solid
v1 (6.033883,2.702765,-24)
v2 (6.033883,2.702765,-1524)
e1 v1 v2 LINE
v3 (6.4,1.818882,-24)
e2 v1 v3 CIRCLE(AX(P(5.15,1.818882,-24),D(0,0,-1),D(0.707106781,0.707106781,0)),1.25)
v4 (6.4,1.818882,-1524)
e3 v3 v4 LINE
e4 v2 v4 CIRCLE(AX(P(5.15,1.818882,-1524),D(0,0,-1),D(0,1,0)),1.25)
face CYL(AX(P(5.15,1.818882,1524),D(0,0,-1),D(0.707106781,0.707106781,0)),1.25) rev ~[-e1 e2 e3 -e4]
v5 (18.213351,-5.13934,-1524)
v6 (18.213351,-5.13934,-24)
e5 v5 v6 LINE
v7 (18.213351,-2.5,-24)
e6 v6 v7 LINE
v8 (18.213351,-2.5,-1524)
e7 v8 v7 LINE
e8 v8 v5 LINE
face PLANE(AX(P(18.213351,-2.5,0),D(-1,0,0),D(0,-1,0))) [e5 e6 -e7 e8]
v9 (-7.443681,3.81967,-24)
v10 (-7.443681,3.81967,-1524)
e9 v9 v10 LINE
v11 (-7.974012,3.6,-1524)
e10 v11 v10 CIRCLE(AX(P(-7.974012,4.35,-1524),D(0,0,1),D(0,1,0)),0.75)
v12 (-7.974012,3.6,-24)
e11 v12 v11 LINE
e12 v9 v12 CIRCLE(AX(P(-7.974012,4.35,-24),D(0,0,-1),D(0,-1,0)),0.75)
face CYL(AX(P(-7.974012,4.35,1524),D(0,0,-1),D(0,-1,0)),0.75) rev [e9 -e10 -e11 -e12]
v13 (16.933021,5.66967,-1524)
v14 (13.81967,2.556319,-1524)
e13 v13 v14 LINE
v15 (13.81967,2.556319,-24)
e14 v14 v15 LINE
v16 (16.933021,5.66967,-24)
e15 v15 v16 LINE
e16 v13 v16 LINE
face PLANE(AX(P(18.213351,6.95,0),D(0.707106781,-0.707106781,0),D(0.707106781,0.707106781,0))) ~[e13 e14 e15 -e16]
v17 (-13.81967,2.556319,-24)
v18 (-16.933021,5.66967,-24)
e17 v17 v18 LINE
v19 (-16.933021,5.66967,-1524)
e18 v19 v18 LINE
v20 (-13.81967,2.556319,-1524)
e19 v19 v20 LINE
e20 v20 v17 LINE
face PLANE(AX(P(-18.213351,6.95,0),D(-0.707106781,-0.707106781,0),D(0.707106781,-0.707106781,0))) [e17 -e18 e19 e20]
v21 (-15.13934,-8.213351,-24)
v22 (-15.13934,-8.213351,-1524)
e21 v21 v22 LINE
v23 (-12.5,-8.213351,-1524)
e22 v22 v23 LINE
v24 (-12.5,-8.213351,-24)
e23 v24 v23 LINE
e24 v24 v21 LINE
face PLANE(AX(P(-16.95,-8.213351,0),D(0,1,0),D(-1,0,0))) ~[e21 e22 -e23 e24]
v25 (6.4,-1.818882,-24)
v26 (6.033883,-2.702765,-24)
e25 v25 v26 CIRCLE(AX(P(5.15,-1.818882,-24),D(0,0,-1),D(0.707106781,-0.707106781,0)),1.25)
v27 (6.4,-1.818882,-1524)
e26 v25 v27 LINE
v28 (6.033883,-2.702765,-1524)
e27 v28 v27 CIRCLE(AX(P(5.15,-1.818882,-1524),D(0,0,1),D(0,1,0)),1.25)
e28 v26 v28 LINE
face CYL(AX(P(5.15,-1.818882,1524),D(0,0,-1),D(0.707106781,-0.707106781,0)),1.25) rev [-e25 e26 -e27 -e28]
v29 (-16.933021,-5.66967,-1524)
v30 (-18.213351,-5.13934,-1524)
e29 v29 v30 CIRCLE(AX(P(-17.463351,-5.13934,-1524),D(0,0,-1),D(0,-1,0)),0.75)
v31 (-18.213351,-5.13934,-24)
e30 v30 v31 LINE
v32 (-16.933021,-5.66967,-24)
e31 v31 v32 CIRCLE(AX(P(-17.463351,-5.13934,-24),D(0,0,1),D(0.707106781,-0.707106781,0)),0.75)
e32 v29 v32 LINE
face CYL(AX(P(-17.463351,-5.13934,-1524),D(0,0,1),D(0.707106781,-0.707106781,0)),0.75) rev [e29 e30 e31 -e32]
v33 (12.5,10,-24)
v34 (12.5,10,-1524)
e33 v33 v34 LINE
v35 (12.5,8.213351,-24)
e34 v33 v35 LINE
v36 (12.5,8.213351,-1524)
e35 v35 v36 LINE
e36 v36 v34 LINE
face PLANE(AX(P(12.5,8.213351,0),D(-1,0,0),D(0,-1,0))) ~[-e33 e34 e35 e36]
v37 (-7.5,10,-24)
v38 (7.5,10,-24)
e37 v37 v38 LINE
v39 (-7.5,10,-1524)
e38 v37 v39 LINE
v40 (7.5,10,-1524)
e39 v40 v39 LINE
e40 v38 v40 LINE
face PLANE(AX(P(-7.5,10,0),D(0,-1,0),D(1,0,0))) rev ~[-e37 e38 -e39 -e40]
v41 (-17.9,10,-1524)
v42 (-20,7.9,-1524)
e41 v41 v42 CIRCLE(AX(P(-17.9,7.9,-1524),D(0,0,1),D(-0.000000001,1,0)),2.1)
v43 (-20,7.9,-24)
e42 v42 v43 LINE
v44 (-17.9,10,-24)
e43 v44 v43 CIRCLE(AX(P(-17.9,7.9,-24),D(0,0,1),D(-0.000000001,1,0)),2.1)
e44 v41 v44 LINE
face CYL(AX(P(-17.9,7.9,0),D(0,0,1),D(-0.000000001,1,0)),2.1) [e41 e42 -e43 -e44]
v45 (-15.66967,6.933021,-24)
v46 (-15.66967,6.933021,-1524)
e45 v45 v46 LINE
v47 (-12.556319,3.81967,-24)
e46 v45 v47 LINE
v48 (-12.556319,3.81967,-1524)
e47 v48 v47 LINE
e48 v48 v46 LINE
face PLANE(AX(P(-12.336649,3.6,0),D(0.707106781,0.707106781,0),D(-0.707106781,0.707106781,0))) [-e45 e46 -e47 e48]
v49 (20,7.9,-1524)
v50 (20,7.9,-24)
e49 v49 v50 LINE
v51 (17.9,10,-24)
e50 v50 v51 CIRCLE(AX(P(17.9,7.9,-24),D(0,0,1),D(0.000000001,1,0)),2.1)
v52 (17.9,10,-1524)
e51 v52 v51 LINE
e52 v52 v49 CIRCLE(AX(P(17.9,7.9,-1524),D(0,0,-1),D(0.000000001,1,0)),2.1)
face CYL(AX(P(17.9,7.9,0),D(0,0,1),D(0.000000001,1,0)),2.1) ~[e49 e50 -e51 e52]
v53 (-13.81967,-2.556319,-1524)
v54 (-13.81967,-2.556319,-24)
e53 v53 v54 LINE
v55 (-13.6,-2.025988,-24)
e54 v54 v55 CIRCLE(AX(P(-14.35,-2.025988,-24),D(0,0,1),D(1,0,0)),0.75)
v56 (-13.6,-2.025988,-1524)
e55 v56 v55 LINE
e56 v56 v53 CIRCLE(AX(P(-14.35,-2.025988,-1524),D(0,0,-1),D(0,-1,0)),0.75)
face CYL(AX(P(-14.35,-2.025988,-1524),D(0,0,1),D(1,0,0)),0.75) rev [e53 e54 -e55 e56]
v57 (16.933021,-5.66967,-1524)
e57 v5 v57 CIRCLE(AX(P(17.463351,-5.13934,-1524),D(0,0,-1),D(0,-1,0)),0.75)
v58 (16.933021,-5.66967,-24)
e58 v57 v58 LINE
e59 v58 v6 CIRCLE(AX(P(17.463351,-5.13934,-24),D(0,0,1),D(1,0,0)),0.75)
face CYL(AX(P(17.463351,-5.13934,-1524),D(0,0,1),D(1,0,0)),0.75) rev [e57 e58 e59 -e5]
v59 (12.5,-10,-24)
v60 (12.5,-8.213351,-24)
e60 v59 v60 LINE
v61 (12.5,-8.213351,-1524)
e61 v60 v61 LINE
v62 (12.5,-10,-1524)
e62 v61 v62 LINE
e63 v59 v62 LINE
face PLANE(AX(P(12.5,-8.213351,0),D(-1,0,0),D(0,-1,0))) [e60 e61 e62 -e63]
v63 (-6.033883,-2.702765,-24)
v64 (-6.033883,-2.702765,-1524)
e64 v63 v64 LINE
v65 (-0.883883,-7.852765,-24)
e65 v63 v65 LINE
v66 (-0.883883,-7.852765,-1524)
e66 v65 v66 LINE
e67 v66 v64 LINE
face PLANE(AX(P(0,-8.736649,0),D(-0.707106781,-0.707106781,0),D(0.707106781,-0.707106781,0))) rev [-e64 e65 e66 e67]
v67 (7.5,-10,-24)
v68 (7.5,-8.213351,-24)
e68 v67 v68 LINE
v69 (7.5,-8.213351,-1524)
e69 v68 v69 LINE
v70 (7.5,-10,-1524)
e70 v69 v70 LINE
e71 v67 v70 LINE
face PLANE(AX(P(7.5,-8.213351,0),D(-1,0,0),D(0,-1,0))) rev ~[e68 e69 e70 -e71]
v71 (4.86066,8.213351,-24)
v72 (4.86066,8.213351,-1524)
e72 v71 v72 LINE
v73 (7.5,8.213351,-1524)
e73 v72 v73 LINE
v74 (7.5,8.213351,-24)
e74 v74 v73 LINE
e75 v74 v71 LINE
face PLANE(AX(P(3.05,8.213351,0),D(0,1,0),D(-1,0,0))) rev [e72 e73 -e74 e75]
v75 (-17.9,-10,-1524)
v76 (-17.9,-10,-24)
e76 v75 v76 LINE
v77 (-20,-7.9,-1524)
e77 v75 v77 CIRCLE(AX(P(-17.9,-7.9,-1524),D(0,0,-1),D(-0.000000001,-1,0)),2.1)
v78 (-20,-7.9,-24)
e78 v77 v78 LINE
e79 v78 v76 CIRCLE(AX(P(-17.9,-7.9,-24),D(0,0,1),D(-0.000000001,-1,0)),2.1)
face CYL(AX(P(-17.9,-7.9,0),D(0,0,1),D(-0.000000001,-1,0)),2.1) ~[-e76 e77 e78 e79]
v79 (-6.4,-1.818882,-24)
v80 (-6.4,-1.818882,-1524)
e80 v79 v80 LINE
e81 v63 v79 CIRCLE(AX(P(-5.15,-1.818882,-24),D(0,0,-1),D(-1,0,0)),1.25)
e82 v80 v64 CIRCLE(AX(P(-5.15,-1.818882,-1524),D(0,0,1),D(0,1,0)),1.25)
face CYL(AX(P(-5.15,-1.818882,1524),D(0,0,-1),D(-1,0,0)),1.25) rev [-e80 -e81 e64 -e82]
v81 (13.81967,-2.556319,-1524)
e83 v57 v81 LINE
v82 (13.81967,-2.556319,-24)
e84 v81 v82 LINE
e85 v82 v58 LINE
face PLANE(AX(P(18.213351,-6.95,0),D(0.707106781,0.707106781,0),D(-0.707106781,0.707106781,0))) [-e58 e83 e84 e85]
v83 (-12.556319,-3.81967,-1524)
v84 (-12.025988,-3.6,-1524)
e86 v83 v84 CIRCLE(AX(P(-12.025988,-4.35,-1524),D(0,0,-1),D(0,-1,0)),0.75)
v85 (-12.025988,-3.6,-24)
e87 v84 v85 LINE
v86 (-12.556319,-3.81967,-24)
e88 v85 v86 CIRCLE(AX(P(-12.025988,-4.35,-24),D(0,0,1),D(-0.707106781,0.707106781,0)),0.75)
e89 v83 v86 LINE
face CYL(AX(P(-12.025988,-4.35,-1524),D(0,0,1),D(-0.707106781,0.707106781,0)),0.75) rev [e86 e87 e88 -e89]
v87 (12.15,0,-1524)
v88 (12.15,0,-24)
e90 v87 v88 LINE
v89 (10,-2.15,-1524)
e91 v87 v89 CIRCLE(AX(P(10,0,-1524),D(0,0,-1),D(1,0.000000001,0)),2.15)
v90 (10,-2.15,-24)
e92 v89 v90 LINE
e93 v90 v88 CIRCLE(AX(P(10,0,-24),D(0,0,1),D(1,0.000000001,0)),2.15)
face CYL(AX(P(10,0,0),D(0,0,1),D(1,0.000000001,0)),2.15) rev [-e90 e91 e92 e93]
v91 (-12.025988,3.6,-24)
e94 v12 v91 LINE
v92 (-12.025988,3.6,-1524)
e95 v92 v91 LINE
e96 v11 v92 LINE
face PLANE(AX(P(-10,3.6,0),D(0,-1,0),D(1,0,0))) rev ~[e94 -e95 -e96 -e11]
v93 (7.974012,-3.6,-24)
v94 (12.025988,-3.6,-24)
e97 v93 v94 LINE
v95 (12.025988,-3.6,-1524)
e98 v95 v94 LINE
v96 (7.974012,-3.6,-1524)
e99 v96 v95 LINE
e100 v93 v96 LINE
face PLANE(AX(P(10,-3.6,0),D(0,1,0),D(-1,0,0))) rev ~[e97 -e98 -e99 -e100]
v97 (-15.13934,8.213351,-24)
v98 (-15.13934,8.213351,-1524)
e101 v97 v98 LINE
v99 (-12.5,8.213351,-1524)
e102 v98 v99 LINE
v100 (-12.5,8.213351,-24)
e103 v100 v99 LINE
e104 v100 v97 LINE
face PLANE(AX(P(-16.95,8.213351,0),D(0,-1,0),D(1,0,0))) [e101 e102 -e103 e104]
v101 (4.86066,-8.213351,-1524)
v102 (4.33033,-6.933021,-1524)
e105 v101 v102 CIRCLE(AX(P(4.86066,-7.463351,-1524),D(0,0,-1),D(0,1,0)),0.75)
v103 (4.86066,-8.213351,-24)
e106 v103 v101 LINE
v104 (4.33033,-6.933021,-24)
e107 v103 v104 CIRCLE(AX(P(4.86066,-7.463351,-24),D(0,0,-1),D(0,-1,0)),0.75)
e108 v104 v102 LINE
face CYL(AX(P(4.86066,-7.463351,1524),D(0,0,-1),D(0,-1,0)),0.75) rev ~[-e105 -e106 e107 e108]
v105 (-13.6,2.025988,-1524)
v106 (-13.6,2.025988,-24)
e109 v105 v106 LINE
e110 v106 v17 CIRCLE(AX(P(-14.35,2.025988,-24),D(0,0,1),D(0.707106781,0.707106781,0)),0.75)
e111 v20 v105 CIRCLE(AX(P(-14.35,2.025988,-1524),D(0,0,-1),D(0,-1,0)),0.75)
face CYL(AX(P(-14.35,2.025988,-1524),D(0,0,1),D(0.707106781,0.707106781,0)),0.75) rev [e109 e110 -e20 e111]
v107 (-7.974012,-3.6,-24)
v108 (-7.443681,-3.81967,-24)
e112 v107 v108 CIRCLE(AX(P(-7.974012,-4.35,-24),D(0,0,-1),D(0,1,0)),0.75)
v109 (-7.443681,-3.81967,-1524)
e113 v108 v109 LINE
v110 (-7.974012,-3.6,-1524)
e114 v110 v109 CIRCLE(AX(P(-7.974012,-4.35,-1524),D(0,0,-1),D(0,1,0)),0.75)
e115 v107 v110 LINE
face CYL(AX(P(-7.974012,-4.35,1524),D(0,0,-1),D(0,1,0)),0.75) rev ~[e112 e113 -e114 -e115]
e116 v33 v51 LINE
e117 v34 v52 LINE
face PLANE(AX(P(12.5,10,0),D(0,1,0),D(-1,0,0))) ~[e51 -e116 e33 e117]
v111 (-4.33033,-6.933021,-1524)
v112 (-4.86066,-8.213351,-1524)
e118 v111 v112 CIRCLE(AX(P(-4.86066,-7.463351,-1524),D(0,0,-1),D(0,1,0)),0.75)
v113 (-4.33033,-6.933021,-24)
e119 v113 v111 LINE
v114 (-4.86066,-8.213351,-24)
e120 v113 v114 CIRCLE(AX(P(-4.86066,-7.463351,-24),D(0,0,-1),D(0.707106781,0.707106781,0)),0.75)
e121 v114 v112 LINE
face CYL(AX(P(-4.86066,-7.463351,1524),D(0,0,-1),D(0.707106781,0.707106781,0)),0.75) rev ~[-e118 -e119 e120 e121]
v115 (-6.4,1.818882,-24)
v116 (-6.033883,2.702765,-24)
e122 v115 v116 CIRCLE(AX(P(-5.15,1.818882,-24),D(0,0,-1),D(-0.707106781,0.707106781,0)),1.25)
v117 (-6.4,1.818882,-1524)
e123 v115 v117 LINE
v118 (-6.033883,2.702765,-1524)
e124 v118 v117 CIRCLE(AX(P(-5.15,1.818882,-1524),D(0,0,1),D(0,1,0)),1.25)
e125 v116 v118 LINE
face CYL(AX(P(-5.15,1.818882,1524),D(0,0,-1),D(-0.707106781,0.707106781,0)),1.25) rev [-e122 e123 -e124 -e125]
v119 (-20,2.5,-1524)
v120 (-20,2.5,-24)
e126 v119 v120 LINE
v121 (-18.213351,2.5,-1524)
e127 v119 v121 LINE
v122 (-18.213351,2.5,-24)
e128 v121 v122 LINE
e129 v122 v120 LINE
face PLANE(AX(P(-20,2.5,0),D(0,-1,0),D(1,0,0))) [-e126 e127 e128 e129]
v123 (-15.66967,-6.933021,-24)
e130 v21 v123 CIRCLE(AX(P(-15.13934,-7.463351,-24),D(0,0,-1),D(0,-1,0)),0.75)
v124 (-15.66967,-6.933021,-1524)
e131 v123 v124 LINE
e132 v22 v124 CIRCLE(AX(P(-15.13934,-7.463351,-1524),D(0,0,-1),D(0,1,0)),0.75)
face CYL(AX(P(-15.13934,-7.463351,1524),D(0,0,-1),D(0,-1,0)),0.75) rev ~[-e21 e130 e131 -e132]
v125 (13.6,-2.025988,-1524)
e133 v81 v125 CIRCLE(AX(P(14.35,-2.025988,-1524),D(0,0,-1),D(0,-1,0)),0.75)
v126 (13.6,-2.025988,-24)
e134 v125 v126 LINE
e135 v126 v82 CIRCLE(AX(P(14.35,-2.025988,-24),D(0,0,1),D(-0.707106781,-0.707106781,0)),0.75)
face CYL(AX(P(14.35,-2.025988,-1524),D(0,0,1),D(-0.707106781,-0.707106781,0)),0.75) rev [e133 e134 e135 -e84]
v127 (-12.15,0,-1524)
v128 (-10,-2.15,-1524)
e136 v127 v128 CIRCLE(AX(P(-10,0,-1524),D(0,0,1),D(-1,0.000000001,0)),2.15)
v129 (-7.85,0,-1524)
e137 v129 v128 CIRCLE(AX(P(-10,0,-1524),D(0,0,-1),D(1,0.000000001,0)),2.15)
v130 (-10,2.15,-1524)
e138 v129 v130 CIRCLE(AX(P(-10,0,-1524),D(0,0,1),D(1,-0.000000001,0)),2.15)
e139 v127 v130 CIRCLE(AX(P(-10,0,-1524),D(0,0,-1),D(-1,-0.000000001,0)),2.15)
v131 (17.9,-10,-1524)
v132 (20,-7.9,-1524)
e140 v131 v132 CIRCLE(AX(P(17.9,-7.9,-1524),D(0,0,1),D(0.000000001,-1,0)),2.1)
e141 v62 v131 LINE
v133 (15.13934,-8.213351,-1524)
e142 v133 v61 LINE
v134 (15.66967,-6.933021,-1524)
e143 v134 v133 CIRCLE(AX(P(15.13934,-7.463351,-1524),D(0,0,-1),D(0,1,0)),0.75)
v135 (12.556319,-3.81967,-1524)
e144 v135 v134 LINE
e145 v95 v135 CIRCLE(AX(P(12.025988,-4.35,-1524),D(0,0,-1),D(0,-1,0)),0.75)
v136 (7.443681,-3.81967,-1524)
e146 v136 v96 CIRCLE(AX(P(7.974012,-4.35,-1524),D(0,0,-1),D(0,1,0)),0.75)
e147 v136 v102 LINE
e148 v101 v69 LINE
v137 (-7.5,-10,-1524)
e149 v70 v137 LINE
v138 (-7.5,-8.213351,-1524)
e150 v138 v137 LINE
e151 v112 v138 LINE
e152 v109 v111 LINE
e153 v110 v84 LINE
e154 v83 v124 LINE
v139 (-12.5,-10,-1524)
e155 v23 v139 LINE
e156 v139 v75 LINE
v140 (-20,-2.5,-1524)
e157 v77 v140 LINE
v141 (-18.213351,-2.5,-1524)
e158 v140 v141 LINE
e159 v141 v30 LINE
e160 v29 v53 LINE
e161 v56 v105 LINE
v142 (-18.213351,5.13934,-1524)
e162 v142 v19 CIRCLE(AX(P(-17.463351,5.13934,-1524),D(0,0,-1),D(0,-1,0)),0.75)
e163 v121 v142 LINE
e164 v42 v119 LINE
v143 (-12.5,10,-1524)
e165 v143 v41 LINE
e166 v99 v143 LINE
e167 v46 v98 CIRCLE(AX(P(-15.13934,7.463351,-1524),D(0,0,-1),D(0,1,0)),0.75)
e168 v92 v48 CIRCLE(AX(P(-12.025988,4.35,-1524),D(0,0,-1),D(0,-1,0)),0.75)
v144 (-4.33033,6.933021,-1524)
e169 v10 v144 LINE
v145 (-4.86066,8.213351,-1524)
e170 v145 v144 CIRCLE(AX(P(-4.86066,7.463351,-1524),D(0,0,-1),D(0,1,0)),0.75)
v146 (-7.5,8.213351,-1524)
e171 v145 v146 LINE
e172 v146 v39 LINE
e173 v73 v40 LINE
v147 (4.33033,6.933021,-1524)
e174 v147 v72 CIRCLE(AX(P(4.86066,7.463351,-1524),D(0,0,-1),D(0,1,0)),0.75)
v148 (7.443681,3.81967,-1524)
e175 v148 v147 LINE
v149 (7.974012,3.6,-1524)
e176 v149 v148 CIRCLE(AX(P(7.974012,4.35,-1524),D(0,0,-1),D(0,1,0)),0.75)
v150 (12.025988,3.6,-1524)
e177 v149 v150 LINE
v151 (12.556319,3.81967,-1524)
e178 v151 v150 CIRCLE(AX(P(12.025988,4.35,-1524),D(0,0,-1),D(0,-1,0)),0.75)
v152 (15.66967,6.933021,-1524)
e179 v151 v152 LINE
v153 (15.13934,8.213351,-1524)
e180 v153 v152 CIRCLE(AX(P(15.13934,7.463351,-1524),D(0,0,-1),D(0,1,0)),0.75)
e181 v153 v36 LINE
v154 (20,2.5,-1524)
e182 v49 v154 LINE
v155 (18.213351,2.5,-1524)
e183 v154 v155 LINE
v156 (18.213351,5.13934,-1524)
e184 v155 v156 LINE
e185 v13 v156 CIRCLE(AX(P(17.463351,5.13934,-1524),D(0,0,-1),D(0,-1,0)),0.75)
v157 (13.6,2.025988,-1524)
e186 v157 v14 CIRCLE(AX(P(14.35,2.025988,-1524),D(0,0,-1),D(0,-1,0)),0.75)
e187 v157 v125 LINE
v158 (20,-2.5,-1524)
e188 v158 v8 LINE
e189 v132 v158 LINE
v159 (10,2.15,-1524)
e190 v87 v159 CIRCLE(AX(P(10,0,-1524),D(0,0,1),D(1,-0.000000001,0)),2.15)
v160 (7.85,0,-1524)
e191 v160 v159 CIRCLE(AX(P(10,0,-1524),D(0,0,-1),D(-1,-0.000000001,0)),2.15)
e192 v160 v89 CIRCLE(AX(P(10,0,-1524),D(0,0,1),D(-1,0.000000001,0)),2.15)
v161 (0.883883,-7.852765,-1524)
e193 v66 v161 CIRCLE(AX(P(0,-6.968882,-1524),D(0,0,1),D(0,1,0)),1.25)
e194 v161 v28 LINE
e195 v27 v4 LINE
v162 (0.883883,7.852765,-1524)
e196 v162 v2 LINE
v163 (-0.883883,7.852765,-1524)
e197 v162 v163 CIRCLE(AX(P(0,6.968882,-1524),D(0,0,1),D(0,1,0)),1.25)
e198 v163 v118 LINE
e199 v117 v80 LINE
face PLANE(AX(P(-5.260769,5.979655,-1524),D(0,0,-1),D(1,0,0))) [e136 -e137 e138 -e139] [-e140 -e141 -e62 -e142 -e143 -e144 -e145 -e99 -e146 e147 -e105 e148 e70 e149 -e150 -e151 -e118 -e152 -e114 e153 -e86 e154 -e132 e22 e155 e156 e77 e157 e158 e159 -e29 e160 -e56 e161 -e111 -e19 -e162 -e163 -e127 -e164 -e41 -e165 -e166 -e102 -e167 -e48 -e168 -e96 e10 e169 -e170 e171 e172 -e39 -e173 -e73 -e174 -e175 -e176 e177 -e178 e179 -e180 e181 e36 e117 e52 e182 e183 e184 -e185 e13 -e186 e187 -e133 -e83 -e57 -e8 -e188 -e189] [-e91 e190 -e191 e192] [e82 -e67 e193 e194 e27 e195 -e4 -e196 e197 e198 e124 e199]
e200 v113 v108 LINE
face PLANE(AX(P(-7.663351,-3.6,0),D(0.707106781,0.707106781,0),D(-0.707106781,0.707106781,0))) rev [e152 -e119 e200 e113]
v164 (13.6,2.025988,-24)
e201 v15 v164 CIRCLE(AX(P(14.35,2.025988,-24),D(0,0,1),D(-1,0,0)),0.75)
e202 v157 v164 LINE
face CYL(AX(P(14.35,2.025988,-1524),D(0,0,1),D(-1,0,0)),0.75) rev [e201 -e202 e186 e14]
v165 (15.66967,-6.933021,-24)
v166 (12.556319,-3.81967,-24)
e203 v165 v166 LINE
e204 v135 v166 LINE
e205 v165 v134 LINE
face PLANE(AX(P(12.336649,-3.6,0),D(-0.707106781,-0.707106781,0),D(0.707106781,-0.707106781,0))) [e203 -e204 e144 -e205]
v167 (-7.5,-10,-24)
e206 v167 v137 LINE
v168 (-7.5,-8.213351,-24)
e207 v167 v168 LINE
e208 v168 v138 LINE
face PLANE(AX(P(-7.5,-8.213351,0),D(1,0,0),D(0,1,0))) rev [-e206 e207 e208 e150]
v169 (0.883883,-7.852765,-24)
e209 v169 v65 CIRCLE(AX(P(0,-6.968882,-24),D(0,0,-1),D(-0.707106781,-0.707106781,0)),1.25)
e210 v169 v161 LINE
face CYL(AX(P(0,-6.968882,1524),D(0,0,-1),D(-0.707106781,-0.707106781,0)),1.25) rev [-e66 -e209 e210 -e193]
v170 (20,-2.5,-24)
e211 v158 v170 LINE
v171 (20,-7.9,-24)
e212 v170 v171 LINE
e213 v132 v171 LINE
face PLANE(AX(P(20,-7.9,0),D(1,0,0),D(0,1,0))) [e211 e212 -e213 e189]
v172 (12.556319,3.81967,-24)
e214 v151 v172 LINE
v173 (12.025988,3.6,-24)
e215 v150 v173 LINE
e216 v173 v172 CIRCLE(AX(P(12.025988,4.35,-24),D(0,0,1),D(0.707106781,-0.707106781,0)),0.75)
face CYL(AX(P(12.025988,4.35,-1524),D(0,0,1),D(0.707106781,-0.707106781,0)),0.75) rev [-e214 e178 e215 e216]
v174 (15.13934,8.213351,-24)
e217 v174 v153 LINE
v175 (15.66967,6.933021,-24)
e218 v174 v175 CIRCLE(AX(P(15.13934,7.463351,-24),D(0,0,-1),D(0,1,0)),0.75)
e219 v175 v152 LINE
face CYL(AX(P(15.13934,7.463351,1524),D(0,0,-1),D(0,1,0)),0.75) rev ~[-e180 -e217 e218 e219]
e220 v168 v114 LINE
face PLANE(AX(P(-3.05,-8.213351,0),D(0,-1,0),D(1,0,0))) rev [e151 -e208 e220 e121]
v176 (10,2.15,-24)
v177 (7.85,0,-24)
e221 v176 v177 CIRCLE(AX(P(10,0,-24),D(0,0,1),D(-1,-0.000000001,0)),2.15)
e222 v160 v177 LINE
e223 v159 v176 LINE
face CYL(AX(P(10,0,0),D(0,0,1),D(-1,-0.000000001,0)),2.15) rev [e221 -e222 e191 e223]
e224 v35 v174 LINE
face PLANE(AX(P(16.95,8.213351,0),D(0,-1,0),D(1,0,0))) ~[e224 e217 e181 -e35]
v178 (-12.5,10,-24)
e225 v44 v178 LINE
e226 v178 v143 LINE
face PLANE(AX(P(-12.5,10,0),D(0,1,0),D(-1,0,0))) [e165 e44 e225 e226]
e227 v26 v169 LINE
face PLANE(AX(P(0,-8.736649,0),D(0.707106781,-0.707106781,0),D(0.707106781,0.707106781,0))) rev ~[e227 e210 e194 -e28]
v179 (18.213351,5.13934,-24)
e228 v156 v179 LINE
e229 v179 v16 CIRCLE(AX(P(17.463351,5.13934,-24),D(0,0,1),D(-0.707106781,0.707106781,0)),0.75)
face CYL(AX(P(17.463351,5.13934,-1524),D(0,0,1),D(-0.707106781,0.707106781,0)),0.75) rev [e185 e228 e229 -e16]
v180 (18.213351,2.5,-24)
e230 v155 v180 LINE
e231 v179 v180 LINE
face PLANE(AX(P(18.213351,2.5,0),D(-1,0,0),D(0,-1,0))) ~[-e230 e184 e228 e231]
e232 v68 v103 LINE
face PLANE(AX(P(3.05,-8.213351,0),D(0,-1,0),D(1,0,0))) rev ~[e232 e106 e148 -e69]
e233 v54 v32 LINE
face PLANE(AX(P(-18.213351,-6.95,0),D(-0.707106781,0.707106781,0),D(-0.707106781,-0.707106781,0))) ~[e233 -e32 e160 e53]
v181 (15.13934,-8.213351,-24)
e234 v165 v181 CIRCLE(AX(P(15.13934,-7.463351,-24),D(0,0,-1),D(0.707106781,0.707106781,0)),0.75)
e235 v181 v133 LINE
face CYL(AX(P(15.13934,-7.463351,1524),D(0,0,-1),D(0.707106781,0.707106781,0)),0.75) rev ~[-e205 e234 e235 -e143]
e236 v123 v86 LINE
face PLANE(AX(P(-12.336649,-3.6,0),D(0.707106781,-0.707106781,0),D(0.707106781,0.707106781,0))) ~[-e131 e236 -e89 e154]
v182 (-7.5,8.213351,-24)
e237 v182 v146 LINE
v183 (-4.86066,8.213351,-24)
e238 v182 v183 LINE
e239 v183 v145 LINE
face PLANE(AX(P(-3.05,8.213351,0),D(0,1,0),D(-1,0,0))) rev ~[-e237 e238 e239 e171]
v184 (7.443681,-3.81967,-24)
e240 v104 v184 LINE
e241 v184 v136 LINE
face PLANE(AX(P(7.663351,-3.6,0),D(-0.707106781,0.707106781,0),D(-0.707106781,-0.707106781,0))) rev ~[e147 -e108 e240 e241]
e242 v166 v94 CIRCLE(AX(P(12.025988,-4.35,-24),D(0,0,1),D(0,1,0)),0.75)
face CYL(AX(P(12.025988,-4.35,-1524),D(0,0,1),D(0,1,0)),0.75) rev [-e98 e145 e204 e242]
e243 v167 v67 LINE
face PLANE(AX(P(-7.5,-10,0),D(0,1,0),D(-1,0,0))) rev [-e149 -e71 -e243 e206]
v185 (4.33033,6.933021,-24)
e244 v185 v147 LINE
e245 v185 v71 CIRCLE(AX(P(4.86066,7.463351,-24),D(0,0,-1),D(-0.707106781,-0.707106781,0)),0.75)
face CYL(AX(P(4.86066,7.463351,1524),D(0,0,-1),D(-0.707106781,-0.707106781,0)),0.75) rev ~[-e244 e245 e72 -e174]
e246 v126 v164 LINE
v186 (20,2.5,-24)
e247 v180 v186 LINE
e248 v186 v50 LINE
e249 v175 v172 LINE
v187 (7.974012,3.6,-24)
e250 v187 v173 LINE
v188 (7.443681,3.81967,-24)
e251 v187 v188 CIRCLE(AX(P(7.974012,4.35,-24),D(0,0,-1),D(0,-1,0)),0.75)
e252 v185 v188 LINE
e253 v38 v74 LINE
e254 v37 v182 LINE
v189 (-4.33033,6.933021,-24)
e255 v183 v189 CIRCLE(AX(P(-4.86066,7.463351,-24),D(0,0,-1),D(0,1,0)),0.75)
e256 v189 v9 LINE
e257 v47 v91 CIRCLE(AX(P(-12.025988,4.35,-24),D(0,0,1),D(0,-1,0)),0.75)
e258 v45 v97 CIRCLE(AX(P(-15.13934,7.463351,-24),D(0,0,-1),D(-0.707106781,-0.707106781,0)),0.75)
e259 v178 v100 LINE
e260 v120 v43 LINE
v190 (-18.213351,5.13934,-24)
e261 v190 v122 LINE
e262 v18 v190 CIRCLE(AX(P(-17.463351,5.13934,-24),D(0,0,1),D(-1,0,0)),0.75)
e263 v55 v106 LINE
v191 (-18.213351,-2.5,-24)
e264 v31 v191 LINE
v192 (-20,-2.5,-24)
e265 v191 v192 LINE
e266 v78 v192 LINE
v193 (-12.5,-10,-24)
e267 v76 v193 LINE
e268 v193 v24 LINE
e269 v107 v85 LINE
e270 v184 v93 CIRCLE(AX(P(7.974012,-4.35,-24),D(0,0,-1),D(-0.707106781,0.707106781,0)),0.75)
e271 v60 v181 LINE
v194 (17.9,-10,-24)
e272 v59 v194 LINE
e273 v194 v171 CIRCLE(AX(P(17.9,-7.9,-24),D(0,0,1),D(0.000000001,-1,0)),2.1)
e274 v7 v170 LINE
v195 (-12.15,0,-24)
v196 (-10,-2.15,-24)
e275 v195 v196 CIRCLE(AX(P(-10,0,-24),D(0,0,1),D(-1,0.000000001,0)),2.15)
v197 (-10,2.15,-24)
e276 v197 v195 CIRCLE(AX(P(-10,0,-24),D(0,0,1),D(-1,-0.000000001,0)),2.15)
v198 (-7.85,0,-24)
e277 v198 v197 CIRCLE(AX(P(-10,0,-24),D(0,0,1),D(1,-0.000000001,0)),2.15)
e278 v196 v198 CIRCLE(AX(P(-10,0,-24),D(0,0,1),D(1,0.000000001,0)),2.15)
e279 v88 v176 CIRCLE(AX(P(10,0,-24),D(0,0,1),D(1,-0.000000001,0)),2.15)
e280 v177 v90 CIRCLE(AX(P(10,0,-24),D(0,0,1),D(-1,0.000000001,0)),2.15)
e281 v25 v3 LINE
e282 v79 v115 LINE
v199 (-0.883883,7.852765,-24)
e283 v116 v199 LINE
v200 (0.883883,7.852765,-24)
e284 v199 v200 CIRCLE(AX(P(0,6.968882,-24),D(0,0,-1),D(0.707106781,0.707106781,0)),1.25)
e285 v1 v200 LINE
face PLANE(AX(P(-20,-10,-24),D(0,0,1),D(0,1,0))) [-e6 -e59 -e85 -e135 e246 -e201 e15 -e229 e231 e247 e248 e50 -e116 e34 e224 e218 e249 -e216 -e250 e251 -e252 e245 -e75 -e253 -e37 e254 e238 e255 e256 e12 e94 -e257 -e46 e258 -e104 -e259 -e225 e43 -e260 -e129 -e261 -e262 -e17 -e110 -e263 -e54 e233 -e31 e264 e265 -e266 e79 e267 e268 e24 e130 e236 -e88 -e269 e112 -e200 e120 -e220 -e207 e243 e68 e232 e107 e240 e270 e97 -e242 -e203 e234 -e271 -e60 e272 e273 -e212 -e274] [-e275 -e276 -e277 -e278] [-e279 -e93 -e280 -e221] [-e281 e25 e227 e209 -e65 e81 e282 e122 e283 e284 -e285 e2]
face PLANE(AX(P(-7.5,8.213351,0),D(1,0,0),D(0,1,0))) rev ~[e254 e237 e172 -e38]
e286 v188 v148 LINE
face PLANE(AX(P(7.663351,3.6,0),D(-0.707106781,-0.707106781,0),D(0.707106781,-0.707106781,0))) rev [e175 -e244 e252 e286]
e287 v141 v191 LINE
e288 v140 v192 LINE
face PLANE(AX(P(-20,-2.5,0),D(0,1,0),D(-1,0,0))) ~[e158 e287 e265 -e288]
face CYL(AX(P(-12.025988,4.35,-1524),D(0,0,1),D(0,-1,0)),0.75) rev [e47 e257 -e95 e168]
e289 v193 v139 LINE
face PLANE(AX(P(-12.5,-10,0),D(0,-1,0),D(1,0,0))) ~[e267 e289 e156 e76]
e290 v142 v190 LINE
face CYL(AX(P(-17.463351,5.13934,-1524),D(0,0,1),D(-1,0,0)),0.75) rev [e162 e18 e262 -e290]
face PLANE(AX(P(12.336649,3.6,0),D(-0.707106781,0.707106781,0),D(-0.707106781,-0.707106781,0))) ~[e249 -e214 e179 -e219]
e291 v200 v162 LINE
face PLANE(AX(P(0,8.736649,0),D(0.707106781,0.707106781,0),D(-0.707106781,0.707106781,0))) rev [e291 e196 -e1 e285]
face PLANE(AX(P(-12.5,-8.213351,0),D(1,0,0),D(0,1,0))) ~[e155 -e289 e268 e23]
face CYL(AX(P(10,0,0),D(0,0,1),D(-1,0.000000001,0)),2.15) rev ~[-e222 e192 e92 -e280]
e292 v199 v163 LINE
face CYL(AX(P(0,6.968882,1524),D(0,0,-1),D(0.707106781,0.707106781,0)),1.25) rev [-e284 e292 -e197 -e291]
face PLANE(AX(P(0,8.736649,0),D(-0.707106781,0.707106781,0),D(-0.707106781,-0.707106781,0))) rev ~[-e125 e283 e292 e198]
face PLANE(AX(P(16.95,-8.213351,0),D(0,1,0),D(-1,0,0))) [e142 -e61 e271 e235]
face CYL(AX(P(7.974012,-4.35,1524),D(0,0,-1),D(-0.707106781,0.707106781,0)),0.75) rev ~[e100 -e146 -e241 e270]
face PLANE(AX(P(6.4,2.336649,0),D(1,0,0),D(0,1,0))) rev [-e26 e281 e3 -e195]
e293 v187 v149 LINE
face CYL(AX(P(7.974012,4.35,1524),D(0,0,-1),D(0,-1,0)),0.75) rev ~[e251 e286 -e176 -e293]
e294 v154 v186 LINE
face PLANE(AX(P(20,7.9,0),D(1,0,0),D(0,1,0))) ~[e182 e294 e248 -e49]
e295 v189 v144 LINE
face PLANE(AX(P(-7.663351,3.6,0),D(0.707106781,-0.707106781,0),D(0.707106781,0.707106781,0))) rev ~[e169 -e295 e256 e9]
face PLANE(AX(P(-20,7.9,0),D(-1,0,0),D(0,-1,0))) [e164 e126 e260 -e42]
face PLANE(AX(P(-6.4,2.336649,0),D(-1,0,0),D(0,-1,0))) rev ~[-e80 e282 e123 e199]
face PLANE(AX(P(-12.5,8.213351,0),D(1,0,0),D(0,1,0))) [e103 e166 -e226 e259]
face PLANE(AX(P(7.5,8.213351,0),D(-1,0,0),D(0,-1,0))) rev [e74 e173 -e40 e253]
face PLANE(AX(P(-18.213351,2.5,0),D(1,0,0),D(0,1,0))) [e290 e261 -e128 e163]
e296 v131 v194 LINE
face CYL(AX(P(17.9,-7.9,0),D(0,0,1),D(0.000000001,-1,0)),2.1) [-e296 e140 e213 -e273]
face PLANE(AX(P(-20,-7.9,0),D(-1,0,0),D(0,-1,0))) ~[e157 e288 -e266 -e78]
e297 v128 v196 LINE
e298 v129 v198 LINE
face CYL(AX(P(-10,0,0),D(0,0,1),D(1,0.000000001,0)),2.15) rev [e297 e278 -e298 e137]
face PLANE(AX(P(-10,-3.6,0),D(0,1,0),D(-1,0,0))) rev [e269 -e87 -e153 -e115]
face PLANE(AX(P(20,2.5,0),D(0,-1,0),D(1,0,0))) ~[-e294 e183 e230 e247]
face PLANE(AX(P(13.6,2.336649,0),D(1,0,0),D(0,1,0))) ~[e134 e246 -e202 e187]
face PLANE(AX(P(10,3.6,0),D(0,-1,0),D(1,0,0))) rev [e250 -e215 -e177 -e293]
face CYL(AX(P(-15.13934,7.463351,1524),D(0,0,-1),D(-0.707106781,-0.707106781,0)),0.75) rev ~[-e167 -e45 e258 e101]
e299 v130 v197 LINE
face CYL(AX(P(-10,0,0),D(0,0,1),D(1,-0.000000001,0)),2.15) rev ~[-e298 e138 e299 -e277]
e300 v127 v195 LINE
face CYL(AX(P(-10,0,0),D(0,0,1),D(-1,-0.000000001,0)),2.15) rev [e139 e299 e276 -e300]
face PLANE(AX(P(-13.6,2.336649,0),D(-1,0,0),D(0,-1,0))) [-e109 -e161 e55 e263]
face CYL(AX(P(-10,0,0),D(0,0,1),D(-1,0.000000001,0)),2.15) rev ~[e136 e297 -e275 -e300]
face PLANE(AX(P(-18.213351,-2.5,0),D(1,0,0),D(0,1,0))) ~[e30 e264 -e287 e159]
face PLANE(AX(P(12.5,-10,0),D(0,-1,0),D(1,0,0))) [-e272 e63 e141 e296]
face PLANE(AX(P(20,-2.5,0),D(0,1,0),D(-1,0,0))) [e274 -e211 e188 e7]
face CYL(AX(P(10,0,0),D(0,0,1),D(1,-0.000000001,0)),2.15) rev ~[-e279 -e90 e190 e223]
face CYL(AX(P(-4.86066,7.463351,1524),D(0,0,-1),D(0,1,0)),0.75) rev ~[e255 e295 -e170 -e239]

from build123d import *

# Parameters (mm, degrees)
BOSS_EXTRUDE1_DEPTH = 1524
BOSS_EXTRUDE2_DEPTH = 1524
FILLET1_R           = 0.75
FILLET2_R           = 1.25
SKETCH5_W           = 1548
SKETCH5_H           = 20
CUT_EXTRUDE1_DEPTH  = 1525.55764076


with BuildPart() as part:
    # Sketch3 → Boss-Extrude1 (new, symmetric)
    with BuildSketch(Plane.XY):
        with BuildLine():
            Line((12.5, -10), (17.9, -10))
            ThreePointArc((17.9, -10), (19.38492424, -9.38492424), (20, -7.9))
            Line((20, -7.9), (20, -2.5))
            Line((20, -2.5), (18.213351365, -2.5))
            Line((18.213351365, -2.5), (18.213351365, -6.95))
            Line((18.213351365, -6.95), (13.6, -2.336648635))
            Line((13.6, -2.336648635), (13.6, 0))
            Line((13.6, 0), (12.15, 0))
            ThreePointArc((12.15, 0), (11.52027958, -1.52027958), (10, -2.15))
            Line((10, -2.15), (10, -3.6))
            Line((10, -3.6), (12.336648635, -3.6))
            Line((12.336648635, -3.6), (16.95, -8.213351365))
            Line((16.95, -8.213351365), (12.5, -8.213351365))
            Line((12.5, -8.213351365), (12.5, -10))
        make_face()
    extrude(amount=BOSS_EXTRUDE1_DEPTH, both=True)

    # Sketch4 → Boss-Extrude2 (add, symmetric)
    with BuildSketch(Plane.XY):
        with BuildLine():
            Line((10, -3.6), (7.663351365, -3.6))
            Line((7.663351365, -3.6), (3.05, -8.213351365))
            Line((3.05, -8.213351365), (7.5, -8.213351365))
            Line((7.5, -8.213351365), (7.5, -10))
            Line((7.5, -10), (0, -10))
            Line((0, -10), (0, -8.736648635))
            Line((0, -8.736648635), (6.4, -2.336648635))
            Line((6.4, -2.336648635), (6.4, 0))
            Line((6.4, 0), (7.85, 0))
            ThreePointArc((7.85, 0), (8.47972042, -1.52027958), (10, -2.15))
            Line((10, -2.15), (10, -3.6))
        make_face()
    extrude(amount=BOSS_EXTRUDE2_DEPTH, both=True)

    # Mirror1: part across plane


with BuildPart() as part_1:
    add(part.part)
    add(part.part.mirror(Plane(origin=(0, 0, 0), x_dir=(0, 0, 1), z_dir=(1, 0, 0))))

    # Mirror2: part across plane


with BuildPart() as part_2:
    add(part_1.part)
    add(part_1.part.mirror(Plane.ZX))

    # Fillet1
    fillet1_edges = [part_2.edges().sort_by_distance(p)[0] for p in [
        (18.213351365, 6.95, 0),
        (13.6, 2.336648635, 0),
        (12.336648635, 3.6, 0),
        (16.95, 8.213351365, 0),
        (3.05, 8.213351365, 0),
        (7.663351365, 3.6, 0),
        (-18.213351365, 6.95, 0),
        (-13.6, 2.336648635, 0),
        (-7.663351365, 3.6, 0),
        (-12.336648635, 3.6, 0),
        (-16.95, 8.213351365, 0),
        (-3.05, 8.213351365, 0),
        (16.95, -8.213351365, 0),
        (12.336648635, -3.6, 0),
        (13.6, -2.336648635, 0),
        (18.213351365, -6.95, 0),
        (3.05, -8.213351365, 0),
        (7.663351365, -3.6, 0),
        (-18.213351365, -6.95, 0),
        (-13.6, -2.336648635, 0),
        (-12.336648635, -3.6, 0),
        (-16.95, -8.213351365, 0),
        (-3.05, -8.213351365, 0),
        (-7.663351365, -3.6, 0),
    ]]
    fillet(fillet1_edges, radius=FILLET1_R)

    # Fillet2
    fillet2_edges = [part_2.edges().sort_by_distance(p)[0] for p in [
        (6.4, 2.336648635, 0),
        (0, 8.736648635, 0),
        (-6.4, 2.336648635, 0),
        (6.4, -2.336648635, 0),
        (-6.4, -2.336648635, 0),
        (0, -8.736648635, 0),
    ]]
    fillet(fillet2_edges, radius=FILLET2_R)

    # Sketch5 → Cut-Extrude1 (cut, through all)
    with BuildSketch(Plane.ZY.offset(20)):
        with Locations((750, 0)):
            Rectangle(SKETCH5_W, SKETCH5_H)
    extrude(amount=-CUT_EXTRUDE1_DEPTH, mode=Mode.SUBTRACT)


solid = part_2.part
